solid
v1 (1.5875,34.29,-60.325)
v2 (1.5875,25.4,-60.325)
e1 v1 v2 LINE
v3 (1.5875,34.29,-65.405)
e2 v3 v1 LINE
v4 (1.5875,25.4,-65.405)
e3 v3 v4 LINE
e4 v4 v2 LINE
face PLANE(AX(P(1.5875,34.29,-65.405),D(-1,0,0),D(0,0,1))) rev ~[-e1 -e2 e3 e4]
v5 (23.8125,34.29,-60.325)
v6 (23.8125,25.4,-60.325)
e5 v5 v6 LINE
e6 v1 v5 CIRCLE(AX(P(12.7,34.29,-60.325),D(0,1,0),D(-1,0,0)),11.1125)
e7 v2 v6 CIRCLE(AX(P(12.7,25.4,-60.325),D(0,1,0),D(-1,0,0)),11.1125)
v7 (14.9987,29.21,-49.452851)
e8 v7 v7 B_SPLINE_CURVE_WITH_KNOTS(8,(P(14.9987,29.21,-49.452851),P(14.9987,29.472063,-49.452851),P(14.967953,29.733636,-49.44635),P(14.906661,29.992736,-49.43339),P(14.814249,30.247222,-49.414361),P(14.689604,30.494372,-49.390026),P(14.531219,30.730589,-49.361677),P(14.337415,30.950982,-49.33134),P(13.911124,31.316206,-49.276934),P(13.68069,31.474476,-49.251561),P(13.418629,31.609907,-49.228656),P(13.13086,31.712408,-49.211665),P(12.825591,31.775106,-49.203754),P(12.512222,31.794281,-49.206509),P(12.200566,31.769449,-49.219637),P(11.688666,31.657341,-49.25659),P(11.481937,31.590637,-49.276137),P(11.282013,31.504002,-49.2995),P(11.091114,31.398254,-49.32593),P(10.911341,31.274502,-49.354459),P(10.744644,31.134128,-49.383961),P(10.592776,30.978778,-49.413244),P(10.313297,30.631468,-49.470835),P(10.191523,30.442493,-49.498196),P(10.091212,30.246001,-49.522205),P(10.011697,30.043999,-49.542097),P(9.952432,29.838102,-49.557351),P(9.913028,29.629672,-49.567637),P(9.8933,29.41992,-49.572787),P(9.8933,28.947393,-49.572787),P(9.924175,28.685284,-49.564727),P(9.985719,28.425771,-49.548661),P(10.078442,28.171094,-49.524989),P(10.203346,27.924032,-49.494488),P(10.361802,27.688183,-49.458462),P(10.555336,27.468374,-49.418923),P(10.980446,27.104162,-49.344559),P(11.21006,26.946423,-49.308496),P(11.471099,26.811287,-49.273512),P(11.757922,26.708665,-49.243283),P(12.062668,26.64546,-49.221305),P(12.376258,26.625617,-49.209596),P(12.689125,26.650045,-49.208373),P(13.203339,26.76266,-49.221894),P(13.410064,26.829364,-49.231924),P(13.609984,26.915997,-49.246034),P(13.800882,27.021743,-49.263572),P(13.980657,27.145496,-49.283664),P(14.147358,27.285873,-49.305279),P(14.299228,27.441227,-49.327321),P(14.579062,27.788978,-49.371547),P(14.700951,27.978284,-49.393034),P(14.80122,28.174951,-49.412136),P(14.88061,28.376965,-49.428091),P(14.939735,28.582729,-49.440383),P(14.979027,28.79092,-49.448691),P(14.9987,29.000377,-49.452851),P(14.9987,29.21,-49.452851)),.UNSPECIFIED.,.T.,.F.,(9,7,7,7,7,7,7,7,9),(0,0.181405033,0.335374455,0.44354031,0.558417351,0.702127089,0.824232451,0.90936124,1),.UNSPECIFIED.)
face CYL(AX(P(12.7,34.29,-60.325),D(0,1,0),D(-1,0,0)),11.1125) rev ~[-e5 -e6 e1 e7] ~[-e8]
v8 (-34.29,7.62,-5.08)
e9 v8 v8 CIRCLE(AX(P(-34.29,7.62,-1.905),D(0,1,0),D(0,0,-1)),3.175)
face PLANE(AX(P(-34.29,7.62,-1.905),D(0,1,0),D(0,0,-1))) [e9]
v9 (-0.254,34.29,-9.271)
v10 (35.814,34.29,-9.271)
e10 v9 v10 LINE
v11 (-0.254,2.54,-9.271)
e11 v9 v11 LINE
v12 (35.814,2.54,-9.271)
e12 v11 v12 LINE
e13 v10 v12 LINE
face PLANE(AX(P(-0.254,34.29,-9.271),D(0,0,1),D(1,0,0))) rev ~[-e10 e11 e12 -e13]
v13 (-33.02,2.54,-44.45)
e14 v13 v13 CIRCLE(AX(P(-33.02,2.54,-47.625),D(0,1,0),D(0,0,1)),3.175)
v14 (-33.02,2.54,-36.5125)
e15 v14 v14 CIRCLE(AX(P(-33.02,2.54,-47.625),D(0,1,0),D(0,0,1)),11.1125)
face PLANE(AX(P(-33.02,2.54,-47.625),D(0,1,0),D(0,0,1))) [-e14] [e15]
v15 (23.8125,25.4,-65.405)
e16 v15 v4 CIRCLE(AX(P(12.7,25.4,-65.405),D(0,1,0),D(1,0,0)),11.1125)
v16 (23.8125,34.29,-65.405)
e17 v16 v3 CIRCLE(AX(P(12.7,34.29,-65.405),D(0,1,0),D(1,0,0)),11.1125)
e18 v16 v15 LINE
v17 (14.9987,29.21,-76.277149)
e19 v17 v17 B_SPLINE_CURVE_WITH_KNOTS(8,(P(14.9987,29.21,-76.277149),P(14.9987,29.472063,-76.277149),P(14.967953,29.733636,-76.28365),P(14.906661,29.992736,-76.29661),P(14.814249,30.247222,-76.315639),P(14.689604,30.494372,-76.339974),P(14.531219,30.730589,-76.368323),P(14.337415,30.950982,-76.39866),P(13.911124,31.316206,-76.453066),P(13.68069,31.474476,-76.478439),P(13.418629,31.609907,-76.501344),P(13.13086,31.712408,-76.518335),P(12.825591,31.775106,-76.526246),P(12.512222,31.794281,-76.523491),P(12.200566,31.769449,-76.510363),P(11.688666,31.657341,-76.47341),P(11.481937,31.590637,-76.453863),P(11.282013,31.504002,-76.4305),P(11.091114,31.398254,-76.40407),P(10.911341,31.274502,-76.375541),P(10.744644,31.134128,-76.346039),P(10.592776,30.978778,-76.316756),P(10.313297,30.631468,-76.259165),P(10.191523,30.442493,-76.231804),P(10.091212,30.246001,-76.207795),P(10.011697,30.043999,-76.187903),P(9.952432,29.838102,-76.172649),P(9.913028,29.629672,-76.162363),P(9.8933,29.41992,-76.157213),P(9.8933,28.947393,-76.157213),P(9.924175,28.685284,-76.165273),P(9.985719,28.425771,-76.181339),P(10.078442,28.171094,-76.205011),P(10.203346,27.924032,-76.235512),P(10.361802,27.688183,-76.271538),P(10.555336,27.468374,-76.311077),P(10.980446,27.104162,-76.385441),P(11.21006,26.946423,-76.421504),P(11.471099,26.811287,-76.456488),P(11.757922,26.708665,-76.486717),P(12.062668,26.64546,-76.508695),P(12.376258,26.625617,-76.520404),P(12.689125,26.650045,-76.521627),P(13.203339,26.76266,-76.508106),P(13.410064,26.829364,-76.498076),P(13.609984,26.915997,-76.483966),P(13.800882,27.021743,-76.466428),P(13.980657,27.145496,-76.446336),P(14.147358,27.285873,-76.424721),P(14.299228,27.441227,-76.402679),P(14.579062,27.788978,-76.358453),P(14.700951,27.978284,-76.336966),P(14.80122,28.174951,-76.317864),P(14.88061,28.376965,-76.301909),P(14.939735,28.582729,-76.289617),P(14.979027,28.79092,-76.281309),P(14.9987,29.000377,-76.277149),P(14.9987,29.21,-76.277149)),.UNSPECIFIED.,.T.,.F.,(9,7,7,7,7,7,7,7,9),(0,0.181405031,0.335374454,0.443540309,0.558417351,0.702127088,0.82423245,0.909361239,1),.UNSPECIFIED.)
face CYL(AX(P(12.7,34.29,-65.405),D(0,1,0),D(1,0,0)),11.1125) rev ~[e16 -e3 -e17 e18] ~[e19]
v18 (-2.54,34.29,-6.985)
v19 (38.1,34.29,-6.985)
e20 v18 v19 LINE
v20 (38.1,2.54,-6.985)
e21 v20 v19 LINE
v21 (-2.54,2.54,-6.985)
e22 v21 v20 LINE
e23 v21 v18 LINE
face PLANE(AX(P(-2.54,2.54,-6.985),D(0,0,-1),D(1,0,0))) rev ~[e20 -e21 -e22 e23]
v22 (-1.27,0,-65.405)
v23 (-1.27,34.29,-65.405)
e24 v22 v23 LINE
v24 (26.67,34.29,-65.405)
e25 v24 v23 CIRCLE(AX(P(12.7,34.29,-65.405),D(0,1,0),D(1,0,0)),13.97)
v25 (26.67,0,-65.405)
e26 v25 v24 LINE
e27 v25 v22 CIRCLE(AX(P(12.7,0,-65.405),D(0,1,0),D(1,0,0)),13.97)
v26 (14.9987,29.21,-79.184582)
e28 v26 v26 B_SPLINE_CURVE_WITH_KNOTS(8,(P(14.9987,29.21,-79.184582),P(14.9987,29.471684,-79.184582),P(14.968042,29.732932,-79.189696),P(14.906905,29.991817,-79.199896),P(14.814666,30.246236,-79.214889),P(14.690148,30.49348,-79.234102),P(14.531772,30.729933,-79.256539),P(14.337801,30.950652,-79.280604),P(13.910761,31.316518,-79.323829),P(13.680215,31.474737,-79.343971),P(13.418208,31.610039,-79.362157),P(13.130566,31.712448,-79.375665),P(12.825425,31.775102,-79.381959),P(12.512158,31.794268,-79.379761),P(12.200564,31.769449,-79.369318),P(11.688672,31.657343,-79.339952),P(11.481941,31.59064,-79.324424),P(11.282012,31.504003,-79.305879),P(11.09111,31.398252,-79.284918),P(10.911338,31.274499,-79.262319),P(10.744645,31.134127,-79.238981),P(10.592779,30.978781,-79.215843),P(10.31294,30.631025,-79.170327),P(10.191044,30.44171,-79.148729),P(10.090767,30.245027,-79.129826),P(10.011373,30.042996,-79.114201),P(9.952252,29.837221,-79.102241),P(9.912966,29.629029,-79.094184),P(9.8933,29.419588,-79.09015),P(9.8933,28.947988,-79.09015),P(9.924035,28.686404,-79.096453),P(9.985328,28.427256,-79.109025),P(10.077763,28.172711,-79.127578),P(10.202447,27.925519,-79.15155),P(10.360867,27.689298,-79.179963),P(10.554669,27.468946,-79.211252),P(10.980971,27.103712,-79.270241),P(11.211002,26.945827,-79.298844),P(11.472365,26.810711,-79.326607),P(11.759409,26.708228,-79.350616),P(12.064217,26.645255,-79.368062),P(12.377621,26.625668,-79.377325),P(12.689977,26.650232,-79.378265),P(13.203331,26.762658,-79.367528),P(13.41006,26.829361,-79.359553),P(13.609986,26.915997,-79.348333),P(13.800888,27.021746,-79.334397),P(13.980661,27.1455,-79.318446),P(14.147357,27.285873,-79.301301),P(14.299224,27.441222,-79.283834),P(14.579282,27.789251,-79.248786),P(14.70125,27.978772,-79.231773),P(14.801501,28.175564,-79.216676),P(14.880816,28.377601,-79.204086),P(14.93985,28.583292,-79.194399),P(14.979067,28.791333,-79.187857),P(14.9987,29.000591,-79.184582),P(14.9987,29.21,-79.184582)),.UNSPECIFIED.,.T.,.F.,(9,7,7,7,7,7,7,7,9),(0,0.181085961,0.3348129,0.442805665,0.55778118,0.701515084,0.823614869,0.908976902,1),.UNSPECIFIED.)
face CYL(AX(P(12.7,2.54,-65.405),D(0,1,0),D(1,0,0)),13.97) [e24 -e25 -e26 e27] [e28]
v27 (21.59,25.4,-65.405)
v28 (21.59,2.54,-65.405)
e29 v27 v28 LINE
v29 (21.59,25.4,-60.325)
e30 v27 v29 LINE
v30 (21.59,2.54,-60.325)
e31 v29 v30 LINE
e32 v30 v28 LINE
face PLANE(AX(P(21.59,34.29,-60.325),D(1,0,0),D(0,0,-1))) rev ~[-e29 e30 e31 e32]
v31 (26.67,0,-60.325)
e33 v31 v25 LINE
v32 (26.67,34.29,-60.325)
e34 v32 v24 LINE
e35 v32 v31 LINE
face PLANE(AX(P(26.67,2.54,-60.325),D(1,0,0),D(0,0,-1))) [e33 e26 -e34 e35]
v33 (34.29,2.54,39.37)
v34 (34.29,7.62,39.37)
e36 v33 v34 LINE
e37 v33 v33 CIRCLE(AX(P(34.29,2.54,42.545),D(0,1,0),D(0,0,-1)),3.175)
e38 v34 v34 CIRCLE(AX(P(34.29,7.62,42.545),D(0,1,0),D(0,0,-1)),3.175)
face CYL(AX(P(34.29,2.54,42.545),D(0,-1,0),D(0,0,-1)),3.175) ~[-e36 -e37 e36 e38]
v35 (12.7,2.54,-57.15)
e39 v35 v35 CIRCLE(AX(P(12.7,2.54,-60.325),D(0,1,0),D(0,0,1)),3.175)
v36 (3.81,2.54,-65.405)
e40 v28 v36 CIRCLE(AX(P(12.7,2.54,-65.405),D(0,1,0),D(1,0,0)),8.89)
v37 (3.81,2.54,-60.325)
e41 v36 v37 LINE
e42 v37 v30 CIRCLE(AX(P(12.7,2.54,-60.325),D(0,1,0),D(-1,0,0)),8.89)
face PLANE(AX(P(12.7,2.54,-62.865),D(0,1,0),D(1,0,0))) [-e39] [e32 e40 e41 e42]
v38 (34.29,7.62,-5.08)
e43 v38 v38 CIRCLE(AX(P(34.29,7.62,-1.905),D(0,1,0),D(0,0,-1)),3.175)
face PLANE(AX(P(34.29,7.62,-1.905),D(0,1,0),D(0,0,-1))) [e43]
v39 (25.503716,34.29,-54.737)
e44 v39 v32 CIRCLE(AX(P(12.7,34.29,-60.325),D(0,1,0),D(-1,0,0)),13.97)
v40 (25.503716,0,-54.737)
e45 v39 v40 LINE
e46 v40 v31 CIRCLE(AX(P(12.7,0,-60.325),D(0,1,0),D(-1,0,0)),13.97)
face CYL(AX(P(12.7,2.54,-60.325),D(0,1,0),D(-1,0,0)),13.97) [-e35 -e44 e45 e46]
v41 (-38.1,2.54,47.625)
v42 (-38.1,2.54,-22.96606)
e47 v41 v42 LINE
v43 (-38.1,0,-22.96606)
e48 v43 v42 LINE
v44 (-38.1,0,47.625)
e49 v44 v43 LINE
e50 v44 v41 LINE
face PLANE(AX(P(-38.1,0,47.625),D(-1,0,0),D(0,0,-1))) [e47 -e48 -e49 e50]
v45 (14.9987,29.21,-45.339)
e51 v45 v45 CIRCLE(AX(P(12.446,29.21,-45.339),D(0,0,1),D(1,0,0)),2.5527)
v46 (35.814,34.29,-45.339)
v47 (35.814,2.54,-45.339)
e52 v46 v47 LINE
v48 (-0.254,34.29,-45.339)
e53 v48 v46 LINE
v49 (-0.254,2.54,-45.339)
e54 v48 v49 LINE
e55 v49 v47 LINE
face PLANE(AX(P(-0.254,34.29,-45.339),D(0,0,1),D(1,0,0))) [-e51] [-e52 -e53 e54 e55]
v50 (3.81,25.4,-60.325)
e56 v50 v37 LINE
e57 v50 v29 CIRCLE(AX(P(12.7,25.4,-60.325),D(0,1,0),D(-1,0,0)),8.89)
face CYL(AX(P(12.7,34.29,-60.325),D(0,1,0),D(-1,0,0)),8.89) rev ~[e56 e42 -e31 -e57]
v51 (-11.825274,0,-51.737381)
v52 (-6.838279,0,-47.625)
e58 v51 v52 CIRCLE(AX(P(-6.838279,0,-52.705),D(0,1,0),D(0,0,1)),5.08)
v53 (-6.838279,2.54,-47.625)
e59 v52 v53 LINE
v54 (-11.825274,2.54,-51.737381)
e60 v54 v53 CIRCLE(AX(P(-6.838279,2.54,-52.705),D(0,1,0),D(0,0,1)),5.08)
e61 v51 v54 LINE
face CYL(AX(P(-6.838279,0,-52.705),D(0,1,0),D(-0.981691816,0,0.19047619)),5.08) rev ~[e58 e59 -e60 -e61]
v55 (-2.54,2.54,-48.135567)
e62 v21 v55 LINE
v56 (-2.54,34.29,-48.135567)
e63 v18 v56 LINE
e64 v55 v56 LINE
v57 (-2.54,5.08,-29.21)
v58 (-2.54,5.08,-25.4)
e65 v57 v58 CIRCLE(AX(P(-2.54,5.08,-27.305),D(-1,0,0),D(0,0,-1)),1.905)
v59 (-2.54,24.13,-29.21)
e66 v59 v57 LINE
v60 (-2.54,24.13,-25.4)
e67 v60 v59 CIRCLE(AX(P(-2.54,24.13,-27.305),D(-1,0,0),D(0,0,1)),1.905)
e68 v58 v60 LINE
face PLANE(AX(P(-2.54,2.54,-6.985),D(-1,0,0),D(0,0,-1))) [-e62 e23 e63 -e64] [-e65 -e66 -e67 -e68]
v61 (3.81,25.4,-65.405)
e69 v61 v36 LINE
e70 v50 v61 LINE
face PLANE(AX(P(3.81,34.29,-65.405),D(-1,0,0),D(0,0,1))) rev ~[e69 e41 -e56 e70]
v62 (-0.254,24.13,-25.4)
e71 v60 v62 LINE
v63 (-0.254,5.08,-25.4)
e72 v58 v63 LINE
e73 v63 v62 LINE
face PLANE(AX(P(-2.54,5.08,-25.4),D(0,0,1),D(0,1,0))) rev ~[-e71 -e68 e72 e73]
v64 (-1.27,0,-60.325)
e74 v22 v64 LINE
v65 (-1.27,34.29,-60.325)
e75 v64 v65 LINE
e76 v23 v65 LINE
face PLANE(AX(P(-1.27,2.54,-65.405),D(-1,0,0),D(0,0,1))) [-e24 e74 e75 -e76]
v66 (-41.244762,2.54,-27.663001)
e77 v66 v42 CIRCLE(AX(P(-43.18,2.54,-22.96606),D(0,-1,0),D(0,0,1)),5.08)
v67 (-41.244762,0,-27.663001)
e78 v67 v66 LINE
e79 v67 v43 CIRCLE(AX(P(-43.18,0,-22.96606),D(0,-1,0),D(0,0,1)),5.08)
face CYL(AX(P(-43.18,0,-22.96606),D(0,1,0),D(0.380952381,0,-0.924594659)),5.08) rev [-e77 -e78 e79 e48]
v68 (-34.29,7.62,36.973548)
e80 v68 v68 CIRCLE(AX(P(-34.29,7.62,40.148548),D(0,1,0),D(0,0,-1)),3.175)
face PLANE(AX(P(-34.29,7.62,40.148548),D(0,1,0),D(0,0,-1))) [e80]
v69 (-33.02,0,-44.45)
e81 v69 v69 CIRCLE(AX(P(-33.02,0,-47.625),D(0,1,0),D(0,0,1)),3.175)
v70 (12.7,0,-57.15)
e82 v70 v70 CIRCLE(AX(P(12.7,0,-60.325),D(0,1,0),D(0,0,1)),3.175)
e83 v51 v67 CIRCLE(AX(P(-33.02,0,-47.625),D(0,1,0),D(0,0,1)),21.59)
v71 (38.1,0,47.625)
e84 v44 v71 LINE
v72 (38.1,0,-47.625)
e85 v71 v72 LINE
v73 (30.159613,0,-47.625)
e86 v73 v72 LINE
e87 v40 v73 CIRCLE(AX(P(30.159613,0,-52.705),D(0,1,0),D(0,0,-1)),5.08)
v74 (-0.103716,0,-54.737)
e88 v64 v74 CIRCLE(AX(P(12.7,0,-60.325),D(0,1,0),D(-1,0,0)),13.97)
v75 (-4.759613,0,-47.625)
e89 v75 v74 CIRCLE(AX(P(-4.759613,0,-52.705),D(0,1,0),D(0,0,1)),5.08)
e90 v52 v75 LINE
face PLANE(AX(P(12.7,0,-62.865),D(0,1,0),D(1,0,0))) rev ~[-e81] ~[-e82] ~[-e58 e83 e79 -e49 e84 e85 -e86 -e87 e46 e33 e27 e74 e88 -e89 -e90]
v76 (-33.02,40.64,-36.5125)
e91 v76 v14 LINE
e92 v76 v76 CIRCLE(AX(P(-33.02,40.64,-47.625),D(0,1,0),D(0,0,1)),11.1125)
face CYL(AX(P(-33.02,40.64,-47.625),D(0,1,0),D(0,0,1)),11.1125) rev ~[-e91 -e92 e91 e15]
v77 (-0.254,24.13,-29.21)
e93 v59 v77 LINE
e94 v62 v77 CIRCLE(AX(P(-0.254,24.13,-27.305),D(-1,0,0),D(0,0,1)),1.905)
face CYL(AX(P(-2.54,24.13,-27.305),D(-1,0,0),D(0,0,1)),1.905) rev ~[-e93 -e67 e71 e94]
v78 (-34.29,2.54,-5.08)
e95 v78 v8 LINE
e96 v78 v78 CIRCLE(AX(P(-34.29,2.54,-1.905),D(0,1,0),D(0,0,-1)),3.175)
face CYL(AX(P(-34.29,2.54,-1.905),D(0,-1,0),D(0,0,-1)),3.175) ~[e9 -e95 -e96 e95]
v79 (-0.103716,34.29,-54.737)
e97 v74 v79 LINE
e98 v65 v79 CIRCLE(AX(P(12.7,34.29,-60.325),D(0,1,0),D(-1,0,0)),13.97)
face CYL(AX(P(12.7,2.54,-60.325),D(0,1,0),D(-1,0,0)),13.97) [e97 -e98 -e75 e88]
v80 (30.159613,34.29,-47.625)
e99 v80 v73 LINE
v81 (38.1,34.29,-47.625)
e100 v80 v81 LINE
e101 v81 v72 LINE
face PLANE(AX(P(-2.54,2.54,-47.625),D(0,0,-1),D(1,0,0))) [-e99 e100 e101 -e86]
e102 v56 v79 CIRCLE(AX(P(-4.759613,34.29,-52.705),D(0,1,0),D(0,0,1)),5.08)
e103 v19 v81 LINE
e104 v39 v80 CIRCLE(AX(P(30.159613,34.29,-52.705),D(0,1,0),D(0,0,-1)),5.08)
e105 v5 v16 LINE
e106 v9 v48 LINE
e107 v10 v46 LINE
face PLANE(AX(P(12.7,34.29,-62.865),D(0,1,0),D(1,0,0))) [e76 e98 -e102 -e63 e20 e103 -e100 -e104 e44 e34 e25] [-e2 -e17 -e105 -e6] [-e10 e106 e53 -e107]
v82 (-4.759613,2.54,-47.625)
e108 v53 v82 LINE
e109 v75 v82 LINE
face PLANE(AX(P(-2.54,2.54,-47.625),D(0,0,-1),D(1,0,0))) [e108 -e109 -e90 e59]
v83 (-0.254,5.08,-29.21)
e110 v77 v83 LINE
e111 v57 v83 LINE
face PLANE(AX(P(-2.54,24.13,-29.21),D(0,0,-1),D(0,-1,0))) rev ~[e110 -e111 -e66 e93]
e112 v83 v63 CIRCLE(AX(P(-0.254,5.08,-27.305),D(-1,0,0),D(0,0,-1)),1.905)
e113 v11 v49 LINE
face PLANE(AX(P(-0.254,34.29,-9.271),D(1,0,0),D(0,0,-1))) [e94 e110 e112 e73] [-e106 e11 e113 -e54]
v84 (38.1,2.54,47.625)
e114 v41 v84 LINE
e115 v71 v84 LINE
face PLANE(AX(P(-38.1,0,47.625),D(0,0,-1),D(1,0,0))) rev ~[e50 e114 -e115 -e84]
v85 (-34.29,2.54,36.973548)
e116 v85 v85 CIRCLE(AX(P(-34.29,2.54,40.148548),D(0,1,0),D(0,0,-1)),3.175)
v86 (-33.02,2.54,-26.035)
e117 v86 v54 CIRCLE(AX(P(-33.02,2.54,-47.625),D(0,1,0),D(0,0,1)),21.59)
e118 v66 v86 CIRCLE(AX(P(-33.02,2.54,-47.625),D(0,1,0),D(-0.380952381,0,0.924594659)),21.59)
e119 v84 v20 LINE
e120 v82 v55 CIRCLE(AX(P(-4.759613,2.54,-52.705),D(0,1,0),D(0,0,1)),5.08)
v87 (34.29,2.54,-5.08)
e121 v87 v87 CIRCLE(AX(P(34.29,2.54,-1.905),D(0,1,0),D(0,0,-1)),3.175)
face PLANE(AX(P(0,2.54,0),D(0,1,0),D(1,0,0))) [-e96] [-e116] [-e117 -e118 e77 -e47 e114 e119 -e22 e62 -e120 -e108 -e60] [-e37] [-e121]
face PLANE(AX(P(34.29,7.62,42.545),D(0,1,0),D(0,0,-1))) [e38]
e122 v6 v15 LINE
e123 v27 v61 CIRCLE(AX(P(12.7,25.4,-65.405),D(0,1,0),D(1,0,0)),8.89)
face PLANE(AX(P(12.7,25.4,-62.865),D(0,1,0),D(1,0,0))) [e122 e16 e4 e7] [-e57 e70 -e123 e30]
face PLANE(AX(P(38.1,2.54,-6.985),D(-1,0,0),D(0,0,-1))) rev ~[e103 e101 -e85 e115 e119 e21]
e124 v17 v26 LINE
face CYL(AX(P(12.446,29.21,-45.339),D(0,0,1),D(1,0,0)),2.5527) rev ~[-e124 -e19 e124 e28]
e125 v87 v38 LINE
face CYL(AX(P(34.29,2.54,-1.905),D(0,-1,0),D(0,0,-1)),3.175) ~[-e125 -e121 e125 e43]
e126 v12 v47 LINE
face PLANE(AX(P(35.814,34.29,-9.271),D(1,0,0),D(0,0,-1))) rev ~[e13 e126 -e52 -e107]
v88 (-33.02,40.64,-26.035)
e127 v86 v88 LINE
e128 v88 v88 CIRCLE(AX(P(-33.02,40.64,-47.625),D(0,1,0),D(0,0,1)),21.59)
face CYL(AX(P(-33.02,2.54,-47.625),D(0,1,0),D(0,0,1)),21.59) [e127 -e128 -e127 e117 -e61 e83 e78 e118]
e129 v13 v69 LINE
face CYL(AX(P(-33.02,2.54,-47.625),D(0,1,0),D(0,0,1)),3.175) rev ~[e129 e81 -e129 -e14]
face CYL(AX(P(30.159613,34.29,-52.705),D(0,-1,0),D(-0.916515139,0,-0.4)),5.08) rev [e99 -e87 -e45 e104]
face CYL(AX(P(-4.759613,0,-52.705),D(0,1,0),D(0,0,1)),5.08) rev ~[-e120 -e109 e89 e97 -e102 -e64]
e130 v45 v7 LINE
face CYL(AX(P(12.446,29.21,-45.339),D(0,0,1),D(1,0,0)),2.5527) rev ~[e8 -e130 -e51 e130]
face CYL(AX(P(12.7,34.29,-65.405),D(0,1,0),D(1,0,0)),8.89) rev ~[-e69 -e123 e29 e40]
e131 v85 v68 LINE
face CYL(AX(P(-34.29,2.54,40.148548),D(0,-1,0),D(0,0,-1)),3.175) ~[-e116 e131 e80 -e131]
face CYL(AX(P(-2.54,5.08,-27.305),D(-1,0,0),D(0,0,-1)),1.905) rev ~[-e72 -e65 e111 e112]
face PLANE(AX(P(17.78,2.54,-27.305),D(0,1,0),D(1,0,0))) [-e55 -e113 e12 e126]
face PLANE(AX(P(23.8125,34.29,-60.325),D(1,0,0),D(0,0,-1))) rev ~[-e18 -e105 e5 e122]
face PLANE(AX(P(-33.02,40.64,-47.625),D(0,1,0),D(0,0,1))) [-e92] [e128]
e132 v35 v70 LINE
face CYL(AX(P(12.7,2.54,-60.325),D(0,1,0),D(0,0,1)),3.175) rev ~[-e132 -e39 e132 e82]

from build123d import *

# Parameters (mm, degrees)
SKETCH1_W                = 76.2
SKETCH1_H                = 95.25
BOSS_EXTRUDE1_DEPTH      = 2.54
SKETCH2_W                = 40.64
SKETCH2_H                = 40.64
BOSS_EXTRUDE2_DEPTH      = 31.75
SKETCH3_W                = 36.068
SKETCH3_H                = 36.068
CUT_EXTRUDE1_DEPTH       = 31.75
SKETCH4_R                = 3.175
BOSS_EXTRUDE3_DEPTH      = 5.08
CUT_EXTRUDE2_REACH       = 42.64
BOSS_EXTRUDE4_DEPTH      = 31.75
BOSS_EXTRUDE4_DEPTH_BACK = 2.54
FILLET1_R                = 5.08
CUT_EXTRUDE3_DEPTH       = 31.75
CUT_EXTRUDE4_DEPTH       = 8.89
SKETCH9_R                = 21.59
BOSS_EXTRUDE5_DEPTH      = 38.1
BOSS_EXTRUDE5_DEPTH_BACK = 2.54
SKETCH10_R               = 11.1125
CUT_EXTRUDE5_DEPTH       = 38.1
CUT_EXTRUDE6_REACH       = 4.54
SKETCH11_R               = 3.175
FILLET2_R                = 5.08
SKETCH13_R               = 2.5527
CUT_EXTRUDE7_DEPTH       = 35.036


with BuildPart() as part:
    # Sketch1 → Boss-Extrude1 (new body)
    with BuildSketch(Plane(origin=(0, 0, 0), x_dir=(1, 0, 0), z_dir=(0, 1, 0))):
        Rectangle(SKETCH1_W, SKETCH1_H)
    extrude(amount=BOSS_EXTRUDE1_DEPTH)

    # Sketch2 → Boss-Extrude2 (add)
    with BuildSketch(Plane(origin=(0, 2.54, 0), x_dir=(1, 0, 0), z_dir=(0, 1, 0))):
        with Locations((17.78, 27.305)):
            Rectangle(SKETCH2_W, SKETCH2_H)
    extrude(amount=BOSS_EXTRUDE2_DEPTH)

    # Sketch3 → Cut-Extrude1 (cut)
    with BuildSketch(Plane(origin=(0, 34.29, 0), x_dir=(1, 0, 0), z_dir=(0, 1, 0))):
        with Locations((17.78, 27.305)):
            Rectangle(SKETCH3_W, SKETCH3_H)
    extrude(amount=-CUT_EXTRUDE1_DEPTH, mode=Mode.SUBTRACT)

    # Sketch4 → Boss-Extrude3 (add)
    with BuildSketch(Plane(origin=(0, 2.54, 0), x_dir=(1, 0, 0), z_dir=(0, 1, 0))):
        with Locations(Location((34.29, 1.905, 0), (0, 0, 90))):  # turned: the seam where the file's is
            Circle(SKETCH4_R)
        with Locations(Location((34.29, -42.545, 0), (0, 0, 90))):  # turned: the seam where the file's is
            Circle(SKETCH4_R)
        with Locations(Location((-34.29, 1.905, 0), (0, 0, 90))):  # turned: the seam where the file's is
            Circle(SKETCH4_R)
        with Locations(Location((-34.29, -40.148547917, 0), (0, 0, 90))):  # turned: the seam where the file's is
            Circle(SKETCH4_R)
    extrude(amount=BOSS_EXTRUDE3_DEPTH)

    # Sketch5 → Cut-Extrude2 (cut, up to next)
    with BuildSketch(Plane.ZY.offset(2.54), mode=Mode.PRIVATE) as cut_extrude2_sk1:
        with BuildLine():
            Line((-29.21, 24.13), (-29.21, 5.08))
            ThreePointArc((-29.21, 5.08), (-27.305, 3.175), (-25.4, 5.08))
            Line((-25.4, 5.08), (-25.4, 24.13))
            ThreePointArc((-25.4, 24.13), (-27.305, 26.035), (-29.21, 24.13))
        make_face()
    cut_extrude2_tool1 = extrude(cut_extrude2_sk1.sketch, amount=-CUT_EXTRUDE2_REACH, mode=Mode.PRIVATE) & part.part
    add(cut_extrude2_tool1.solids().sort_by_distance((-2.54, 14.605, -27.305))[0], mode=Mode.SUBTRACT)

    # Sketch6 → Boss-Extrude4 (add, two sides)
    with BuildSketch(Plane(origin=(0, 2.54, 0), x_dir=(1, 0, 0), z_dir=(0, 1, 0))) as boss_extrude4_sk:
        with BuildLine():
            Line((26.67, 60.325), (26.67, 65.405))
            ThreePointArc((26.67, 65.405), (12.7, 79.375), (-1.27, 65.405))
            Line((-1.27, 65.405), (-1.27, 60.325))
            ThreePointArc((-1.27, 60.325), (12.7, 46.355), (26.67, 60.325))
        make_face()
    extrude(amount=BOSS_EXTRUDE4_DEPTH)
    extrude(boss_extrude4_sk.sketch, amount=-BOSS_EXTRUDE4_DEPTH_BACK)

    # Fillet1
    fillet1_edges = [part.edges().sort_by_distance(p)[0] for p in [
        (18.519871133, 17.145, -47.625),
        (6.880128867, 17.145, -47.625),
    ]]
    fillet(fillet1_edges, radius=FILLET1_R)

    # Sketch7 → Cut-Extrude3 (cut)
    with BuildSketch(Plane(origin=(0, 34.29, 0), x_dir=(1, 0, 0), z_dir=(0, 1, 0))):
        with BuildLine():
            Line((21.59, 60.325), (21.59, 65.405))
            ThreePointArc((21.59, 65.405), (12.7, 74.295), (3.81, 65.405))
            Line((3.81, 65.405), (3.81, 60.325))
            ThreePointArc((3.81, 60.325), (12.7, 51.435), (21.59, 60.325))
        make_face()
    extrude(amount=-CUT_EXTRUDE3_DEPTH, mode=Mode.SUBTRACT)

    # Sketch8 → Cut-Extrude4 (cut)
    with BuildSketch(Plane(origin=(0, 34.29, 0), x_dir=(1, 0, 0), z_dir=(0, 1, 0))):
        with BuildLine():
            Line((23.8125, 60.325), (23.8125, 65.405))
            ThreePointArc((23.8125, 65.405), (12.7, 76.5175), (1.5875, 65.405))
            Line((1.5875, 65.405), (1.5875, 60.325))
            ThreePointArc((1.5875, 60.325), (12.7, 49.2125), (23.8125, 60.325))
        make_face()
    extrude(amount=-CUT_EXTRUDE4_DEPTH, mode=Mode.SUBTRACT)

    # Sketch9 → Boss-Extrude5 (add, two sides)
    with BuildSketch(Plane(origin=(0, 2.54, 0), x_dir=(1, 0, 0), z_dir=(0, 1, 0))) as boss_extrude5_sk:
        with Locations(Location((-33.02, 47.625, 0), (0, 0, 270))):  # turned: the seam where the file's is
            Circle(SKETCH9_R)
    extrude(amount=BOSS_EXTRUDE5_DEPTH)
    extrude(boss_extrude5_sk.sketch, amount=-BOSS_EXTRUDE5_DEPTH_BACK)

    # Sketch10 → Cut-Extrude5 (cut)
    with BuildSketch(Plane(origin=(0, 40.64, 0), x_dir=(1, 0, 0), z_dir=(0, 1, 0))):
        with Locations(Location((-33.02, 47.625, 0), (0, 0, 270))):  # turned: the seam where the file's is
            Circle(SKETCH10_R)
    extrude(amount=-CUT_EXTRUDE5_DEPTH, mode=Mode.SUBTRACT)

    # Sketch11 → Cut-Extrude6 (cut, up to next)
    with BuildSketch(Plane(origin=(0, 2.54, 0), x_dir=(1, 0, 0), z_dir=(0, 1, 0)), mode=Mode.PRIVATE) as cut_extrude6_sk1:
        with Locations(Location((12.7, 60.325, 0), (0, 0, 270))):  # turned: the seam where the file's is
            Circle(SKETCH11_R)
    cut_extrude6_tool1 = extrude(cut_extrude6_sk1.sketch, amount=-CUT_EXTRUDE6_REACH, mode=Mode.PRIVATE) & part.part
    add(cut_extrude6_tool1.solids().sort_by_distance((12.7, 2.54, -60.325))[0], mode=Mode.SUBTRACT)
    # Sketch11 → Cut-Extrude6 (cut, up to next)
    with BuildSketch(Plane(origin=(0, 2.54, 0), x_dir=(1, 0, 0), z_dir=(0, 1, 0)), mode=Mode.PRIVATE) as cut_extrude6_sk2:
        with Locations(Location((-33.02, 47.625, 0), (0, 0, 270))):  # turned: the seam where the file's is
            Circle(SKETCH11_R)
    cut_extrude6_tool2 = extrude(cut_extrude6_sk2.sketch, amount=-CUT_EXTRUDE6_REACH, mode=Mode.PRIVATE) & part.part
    add(cut_extrude6_tool2.solids().sort_by_distance((-33.02, 2.54, -47.625))[0], mode=Mode.SUBTRACT)

    # Fillet2
    fillet2_edges = [part.edges().sort_by_distance(p)[0] for p in [
        (-11.43, 1.27, -47.625),
        (-38.1, 1.27, -26.641156215),
    ]]
    fillet(fillet2_edges, radius=FILLET2_R)

    # Sketch13 → Cut-Extrude7 (cut, through all)
    with BuildSketch(Plane.XY.offset(-45.339)):
        with Locations((12.446, 29.21)):
            Circle(SKETCH13_R)
    extrude(amount=-CUT_EXTRUDE7_DEPTH, mode=Mode.SUBTRACT)


solid = part.part
